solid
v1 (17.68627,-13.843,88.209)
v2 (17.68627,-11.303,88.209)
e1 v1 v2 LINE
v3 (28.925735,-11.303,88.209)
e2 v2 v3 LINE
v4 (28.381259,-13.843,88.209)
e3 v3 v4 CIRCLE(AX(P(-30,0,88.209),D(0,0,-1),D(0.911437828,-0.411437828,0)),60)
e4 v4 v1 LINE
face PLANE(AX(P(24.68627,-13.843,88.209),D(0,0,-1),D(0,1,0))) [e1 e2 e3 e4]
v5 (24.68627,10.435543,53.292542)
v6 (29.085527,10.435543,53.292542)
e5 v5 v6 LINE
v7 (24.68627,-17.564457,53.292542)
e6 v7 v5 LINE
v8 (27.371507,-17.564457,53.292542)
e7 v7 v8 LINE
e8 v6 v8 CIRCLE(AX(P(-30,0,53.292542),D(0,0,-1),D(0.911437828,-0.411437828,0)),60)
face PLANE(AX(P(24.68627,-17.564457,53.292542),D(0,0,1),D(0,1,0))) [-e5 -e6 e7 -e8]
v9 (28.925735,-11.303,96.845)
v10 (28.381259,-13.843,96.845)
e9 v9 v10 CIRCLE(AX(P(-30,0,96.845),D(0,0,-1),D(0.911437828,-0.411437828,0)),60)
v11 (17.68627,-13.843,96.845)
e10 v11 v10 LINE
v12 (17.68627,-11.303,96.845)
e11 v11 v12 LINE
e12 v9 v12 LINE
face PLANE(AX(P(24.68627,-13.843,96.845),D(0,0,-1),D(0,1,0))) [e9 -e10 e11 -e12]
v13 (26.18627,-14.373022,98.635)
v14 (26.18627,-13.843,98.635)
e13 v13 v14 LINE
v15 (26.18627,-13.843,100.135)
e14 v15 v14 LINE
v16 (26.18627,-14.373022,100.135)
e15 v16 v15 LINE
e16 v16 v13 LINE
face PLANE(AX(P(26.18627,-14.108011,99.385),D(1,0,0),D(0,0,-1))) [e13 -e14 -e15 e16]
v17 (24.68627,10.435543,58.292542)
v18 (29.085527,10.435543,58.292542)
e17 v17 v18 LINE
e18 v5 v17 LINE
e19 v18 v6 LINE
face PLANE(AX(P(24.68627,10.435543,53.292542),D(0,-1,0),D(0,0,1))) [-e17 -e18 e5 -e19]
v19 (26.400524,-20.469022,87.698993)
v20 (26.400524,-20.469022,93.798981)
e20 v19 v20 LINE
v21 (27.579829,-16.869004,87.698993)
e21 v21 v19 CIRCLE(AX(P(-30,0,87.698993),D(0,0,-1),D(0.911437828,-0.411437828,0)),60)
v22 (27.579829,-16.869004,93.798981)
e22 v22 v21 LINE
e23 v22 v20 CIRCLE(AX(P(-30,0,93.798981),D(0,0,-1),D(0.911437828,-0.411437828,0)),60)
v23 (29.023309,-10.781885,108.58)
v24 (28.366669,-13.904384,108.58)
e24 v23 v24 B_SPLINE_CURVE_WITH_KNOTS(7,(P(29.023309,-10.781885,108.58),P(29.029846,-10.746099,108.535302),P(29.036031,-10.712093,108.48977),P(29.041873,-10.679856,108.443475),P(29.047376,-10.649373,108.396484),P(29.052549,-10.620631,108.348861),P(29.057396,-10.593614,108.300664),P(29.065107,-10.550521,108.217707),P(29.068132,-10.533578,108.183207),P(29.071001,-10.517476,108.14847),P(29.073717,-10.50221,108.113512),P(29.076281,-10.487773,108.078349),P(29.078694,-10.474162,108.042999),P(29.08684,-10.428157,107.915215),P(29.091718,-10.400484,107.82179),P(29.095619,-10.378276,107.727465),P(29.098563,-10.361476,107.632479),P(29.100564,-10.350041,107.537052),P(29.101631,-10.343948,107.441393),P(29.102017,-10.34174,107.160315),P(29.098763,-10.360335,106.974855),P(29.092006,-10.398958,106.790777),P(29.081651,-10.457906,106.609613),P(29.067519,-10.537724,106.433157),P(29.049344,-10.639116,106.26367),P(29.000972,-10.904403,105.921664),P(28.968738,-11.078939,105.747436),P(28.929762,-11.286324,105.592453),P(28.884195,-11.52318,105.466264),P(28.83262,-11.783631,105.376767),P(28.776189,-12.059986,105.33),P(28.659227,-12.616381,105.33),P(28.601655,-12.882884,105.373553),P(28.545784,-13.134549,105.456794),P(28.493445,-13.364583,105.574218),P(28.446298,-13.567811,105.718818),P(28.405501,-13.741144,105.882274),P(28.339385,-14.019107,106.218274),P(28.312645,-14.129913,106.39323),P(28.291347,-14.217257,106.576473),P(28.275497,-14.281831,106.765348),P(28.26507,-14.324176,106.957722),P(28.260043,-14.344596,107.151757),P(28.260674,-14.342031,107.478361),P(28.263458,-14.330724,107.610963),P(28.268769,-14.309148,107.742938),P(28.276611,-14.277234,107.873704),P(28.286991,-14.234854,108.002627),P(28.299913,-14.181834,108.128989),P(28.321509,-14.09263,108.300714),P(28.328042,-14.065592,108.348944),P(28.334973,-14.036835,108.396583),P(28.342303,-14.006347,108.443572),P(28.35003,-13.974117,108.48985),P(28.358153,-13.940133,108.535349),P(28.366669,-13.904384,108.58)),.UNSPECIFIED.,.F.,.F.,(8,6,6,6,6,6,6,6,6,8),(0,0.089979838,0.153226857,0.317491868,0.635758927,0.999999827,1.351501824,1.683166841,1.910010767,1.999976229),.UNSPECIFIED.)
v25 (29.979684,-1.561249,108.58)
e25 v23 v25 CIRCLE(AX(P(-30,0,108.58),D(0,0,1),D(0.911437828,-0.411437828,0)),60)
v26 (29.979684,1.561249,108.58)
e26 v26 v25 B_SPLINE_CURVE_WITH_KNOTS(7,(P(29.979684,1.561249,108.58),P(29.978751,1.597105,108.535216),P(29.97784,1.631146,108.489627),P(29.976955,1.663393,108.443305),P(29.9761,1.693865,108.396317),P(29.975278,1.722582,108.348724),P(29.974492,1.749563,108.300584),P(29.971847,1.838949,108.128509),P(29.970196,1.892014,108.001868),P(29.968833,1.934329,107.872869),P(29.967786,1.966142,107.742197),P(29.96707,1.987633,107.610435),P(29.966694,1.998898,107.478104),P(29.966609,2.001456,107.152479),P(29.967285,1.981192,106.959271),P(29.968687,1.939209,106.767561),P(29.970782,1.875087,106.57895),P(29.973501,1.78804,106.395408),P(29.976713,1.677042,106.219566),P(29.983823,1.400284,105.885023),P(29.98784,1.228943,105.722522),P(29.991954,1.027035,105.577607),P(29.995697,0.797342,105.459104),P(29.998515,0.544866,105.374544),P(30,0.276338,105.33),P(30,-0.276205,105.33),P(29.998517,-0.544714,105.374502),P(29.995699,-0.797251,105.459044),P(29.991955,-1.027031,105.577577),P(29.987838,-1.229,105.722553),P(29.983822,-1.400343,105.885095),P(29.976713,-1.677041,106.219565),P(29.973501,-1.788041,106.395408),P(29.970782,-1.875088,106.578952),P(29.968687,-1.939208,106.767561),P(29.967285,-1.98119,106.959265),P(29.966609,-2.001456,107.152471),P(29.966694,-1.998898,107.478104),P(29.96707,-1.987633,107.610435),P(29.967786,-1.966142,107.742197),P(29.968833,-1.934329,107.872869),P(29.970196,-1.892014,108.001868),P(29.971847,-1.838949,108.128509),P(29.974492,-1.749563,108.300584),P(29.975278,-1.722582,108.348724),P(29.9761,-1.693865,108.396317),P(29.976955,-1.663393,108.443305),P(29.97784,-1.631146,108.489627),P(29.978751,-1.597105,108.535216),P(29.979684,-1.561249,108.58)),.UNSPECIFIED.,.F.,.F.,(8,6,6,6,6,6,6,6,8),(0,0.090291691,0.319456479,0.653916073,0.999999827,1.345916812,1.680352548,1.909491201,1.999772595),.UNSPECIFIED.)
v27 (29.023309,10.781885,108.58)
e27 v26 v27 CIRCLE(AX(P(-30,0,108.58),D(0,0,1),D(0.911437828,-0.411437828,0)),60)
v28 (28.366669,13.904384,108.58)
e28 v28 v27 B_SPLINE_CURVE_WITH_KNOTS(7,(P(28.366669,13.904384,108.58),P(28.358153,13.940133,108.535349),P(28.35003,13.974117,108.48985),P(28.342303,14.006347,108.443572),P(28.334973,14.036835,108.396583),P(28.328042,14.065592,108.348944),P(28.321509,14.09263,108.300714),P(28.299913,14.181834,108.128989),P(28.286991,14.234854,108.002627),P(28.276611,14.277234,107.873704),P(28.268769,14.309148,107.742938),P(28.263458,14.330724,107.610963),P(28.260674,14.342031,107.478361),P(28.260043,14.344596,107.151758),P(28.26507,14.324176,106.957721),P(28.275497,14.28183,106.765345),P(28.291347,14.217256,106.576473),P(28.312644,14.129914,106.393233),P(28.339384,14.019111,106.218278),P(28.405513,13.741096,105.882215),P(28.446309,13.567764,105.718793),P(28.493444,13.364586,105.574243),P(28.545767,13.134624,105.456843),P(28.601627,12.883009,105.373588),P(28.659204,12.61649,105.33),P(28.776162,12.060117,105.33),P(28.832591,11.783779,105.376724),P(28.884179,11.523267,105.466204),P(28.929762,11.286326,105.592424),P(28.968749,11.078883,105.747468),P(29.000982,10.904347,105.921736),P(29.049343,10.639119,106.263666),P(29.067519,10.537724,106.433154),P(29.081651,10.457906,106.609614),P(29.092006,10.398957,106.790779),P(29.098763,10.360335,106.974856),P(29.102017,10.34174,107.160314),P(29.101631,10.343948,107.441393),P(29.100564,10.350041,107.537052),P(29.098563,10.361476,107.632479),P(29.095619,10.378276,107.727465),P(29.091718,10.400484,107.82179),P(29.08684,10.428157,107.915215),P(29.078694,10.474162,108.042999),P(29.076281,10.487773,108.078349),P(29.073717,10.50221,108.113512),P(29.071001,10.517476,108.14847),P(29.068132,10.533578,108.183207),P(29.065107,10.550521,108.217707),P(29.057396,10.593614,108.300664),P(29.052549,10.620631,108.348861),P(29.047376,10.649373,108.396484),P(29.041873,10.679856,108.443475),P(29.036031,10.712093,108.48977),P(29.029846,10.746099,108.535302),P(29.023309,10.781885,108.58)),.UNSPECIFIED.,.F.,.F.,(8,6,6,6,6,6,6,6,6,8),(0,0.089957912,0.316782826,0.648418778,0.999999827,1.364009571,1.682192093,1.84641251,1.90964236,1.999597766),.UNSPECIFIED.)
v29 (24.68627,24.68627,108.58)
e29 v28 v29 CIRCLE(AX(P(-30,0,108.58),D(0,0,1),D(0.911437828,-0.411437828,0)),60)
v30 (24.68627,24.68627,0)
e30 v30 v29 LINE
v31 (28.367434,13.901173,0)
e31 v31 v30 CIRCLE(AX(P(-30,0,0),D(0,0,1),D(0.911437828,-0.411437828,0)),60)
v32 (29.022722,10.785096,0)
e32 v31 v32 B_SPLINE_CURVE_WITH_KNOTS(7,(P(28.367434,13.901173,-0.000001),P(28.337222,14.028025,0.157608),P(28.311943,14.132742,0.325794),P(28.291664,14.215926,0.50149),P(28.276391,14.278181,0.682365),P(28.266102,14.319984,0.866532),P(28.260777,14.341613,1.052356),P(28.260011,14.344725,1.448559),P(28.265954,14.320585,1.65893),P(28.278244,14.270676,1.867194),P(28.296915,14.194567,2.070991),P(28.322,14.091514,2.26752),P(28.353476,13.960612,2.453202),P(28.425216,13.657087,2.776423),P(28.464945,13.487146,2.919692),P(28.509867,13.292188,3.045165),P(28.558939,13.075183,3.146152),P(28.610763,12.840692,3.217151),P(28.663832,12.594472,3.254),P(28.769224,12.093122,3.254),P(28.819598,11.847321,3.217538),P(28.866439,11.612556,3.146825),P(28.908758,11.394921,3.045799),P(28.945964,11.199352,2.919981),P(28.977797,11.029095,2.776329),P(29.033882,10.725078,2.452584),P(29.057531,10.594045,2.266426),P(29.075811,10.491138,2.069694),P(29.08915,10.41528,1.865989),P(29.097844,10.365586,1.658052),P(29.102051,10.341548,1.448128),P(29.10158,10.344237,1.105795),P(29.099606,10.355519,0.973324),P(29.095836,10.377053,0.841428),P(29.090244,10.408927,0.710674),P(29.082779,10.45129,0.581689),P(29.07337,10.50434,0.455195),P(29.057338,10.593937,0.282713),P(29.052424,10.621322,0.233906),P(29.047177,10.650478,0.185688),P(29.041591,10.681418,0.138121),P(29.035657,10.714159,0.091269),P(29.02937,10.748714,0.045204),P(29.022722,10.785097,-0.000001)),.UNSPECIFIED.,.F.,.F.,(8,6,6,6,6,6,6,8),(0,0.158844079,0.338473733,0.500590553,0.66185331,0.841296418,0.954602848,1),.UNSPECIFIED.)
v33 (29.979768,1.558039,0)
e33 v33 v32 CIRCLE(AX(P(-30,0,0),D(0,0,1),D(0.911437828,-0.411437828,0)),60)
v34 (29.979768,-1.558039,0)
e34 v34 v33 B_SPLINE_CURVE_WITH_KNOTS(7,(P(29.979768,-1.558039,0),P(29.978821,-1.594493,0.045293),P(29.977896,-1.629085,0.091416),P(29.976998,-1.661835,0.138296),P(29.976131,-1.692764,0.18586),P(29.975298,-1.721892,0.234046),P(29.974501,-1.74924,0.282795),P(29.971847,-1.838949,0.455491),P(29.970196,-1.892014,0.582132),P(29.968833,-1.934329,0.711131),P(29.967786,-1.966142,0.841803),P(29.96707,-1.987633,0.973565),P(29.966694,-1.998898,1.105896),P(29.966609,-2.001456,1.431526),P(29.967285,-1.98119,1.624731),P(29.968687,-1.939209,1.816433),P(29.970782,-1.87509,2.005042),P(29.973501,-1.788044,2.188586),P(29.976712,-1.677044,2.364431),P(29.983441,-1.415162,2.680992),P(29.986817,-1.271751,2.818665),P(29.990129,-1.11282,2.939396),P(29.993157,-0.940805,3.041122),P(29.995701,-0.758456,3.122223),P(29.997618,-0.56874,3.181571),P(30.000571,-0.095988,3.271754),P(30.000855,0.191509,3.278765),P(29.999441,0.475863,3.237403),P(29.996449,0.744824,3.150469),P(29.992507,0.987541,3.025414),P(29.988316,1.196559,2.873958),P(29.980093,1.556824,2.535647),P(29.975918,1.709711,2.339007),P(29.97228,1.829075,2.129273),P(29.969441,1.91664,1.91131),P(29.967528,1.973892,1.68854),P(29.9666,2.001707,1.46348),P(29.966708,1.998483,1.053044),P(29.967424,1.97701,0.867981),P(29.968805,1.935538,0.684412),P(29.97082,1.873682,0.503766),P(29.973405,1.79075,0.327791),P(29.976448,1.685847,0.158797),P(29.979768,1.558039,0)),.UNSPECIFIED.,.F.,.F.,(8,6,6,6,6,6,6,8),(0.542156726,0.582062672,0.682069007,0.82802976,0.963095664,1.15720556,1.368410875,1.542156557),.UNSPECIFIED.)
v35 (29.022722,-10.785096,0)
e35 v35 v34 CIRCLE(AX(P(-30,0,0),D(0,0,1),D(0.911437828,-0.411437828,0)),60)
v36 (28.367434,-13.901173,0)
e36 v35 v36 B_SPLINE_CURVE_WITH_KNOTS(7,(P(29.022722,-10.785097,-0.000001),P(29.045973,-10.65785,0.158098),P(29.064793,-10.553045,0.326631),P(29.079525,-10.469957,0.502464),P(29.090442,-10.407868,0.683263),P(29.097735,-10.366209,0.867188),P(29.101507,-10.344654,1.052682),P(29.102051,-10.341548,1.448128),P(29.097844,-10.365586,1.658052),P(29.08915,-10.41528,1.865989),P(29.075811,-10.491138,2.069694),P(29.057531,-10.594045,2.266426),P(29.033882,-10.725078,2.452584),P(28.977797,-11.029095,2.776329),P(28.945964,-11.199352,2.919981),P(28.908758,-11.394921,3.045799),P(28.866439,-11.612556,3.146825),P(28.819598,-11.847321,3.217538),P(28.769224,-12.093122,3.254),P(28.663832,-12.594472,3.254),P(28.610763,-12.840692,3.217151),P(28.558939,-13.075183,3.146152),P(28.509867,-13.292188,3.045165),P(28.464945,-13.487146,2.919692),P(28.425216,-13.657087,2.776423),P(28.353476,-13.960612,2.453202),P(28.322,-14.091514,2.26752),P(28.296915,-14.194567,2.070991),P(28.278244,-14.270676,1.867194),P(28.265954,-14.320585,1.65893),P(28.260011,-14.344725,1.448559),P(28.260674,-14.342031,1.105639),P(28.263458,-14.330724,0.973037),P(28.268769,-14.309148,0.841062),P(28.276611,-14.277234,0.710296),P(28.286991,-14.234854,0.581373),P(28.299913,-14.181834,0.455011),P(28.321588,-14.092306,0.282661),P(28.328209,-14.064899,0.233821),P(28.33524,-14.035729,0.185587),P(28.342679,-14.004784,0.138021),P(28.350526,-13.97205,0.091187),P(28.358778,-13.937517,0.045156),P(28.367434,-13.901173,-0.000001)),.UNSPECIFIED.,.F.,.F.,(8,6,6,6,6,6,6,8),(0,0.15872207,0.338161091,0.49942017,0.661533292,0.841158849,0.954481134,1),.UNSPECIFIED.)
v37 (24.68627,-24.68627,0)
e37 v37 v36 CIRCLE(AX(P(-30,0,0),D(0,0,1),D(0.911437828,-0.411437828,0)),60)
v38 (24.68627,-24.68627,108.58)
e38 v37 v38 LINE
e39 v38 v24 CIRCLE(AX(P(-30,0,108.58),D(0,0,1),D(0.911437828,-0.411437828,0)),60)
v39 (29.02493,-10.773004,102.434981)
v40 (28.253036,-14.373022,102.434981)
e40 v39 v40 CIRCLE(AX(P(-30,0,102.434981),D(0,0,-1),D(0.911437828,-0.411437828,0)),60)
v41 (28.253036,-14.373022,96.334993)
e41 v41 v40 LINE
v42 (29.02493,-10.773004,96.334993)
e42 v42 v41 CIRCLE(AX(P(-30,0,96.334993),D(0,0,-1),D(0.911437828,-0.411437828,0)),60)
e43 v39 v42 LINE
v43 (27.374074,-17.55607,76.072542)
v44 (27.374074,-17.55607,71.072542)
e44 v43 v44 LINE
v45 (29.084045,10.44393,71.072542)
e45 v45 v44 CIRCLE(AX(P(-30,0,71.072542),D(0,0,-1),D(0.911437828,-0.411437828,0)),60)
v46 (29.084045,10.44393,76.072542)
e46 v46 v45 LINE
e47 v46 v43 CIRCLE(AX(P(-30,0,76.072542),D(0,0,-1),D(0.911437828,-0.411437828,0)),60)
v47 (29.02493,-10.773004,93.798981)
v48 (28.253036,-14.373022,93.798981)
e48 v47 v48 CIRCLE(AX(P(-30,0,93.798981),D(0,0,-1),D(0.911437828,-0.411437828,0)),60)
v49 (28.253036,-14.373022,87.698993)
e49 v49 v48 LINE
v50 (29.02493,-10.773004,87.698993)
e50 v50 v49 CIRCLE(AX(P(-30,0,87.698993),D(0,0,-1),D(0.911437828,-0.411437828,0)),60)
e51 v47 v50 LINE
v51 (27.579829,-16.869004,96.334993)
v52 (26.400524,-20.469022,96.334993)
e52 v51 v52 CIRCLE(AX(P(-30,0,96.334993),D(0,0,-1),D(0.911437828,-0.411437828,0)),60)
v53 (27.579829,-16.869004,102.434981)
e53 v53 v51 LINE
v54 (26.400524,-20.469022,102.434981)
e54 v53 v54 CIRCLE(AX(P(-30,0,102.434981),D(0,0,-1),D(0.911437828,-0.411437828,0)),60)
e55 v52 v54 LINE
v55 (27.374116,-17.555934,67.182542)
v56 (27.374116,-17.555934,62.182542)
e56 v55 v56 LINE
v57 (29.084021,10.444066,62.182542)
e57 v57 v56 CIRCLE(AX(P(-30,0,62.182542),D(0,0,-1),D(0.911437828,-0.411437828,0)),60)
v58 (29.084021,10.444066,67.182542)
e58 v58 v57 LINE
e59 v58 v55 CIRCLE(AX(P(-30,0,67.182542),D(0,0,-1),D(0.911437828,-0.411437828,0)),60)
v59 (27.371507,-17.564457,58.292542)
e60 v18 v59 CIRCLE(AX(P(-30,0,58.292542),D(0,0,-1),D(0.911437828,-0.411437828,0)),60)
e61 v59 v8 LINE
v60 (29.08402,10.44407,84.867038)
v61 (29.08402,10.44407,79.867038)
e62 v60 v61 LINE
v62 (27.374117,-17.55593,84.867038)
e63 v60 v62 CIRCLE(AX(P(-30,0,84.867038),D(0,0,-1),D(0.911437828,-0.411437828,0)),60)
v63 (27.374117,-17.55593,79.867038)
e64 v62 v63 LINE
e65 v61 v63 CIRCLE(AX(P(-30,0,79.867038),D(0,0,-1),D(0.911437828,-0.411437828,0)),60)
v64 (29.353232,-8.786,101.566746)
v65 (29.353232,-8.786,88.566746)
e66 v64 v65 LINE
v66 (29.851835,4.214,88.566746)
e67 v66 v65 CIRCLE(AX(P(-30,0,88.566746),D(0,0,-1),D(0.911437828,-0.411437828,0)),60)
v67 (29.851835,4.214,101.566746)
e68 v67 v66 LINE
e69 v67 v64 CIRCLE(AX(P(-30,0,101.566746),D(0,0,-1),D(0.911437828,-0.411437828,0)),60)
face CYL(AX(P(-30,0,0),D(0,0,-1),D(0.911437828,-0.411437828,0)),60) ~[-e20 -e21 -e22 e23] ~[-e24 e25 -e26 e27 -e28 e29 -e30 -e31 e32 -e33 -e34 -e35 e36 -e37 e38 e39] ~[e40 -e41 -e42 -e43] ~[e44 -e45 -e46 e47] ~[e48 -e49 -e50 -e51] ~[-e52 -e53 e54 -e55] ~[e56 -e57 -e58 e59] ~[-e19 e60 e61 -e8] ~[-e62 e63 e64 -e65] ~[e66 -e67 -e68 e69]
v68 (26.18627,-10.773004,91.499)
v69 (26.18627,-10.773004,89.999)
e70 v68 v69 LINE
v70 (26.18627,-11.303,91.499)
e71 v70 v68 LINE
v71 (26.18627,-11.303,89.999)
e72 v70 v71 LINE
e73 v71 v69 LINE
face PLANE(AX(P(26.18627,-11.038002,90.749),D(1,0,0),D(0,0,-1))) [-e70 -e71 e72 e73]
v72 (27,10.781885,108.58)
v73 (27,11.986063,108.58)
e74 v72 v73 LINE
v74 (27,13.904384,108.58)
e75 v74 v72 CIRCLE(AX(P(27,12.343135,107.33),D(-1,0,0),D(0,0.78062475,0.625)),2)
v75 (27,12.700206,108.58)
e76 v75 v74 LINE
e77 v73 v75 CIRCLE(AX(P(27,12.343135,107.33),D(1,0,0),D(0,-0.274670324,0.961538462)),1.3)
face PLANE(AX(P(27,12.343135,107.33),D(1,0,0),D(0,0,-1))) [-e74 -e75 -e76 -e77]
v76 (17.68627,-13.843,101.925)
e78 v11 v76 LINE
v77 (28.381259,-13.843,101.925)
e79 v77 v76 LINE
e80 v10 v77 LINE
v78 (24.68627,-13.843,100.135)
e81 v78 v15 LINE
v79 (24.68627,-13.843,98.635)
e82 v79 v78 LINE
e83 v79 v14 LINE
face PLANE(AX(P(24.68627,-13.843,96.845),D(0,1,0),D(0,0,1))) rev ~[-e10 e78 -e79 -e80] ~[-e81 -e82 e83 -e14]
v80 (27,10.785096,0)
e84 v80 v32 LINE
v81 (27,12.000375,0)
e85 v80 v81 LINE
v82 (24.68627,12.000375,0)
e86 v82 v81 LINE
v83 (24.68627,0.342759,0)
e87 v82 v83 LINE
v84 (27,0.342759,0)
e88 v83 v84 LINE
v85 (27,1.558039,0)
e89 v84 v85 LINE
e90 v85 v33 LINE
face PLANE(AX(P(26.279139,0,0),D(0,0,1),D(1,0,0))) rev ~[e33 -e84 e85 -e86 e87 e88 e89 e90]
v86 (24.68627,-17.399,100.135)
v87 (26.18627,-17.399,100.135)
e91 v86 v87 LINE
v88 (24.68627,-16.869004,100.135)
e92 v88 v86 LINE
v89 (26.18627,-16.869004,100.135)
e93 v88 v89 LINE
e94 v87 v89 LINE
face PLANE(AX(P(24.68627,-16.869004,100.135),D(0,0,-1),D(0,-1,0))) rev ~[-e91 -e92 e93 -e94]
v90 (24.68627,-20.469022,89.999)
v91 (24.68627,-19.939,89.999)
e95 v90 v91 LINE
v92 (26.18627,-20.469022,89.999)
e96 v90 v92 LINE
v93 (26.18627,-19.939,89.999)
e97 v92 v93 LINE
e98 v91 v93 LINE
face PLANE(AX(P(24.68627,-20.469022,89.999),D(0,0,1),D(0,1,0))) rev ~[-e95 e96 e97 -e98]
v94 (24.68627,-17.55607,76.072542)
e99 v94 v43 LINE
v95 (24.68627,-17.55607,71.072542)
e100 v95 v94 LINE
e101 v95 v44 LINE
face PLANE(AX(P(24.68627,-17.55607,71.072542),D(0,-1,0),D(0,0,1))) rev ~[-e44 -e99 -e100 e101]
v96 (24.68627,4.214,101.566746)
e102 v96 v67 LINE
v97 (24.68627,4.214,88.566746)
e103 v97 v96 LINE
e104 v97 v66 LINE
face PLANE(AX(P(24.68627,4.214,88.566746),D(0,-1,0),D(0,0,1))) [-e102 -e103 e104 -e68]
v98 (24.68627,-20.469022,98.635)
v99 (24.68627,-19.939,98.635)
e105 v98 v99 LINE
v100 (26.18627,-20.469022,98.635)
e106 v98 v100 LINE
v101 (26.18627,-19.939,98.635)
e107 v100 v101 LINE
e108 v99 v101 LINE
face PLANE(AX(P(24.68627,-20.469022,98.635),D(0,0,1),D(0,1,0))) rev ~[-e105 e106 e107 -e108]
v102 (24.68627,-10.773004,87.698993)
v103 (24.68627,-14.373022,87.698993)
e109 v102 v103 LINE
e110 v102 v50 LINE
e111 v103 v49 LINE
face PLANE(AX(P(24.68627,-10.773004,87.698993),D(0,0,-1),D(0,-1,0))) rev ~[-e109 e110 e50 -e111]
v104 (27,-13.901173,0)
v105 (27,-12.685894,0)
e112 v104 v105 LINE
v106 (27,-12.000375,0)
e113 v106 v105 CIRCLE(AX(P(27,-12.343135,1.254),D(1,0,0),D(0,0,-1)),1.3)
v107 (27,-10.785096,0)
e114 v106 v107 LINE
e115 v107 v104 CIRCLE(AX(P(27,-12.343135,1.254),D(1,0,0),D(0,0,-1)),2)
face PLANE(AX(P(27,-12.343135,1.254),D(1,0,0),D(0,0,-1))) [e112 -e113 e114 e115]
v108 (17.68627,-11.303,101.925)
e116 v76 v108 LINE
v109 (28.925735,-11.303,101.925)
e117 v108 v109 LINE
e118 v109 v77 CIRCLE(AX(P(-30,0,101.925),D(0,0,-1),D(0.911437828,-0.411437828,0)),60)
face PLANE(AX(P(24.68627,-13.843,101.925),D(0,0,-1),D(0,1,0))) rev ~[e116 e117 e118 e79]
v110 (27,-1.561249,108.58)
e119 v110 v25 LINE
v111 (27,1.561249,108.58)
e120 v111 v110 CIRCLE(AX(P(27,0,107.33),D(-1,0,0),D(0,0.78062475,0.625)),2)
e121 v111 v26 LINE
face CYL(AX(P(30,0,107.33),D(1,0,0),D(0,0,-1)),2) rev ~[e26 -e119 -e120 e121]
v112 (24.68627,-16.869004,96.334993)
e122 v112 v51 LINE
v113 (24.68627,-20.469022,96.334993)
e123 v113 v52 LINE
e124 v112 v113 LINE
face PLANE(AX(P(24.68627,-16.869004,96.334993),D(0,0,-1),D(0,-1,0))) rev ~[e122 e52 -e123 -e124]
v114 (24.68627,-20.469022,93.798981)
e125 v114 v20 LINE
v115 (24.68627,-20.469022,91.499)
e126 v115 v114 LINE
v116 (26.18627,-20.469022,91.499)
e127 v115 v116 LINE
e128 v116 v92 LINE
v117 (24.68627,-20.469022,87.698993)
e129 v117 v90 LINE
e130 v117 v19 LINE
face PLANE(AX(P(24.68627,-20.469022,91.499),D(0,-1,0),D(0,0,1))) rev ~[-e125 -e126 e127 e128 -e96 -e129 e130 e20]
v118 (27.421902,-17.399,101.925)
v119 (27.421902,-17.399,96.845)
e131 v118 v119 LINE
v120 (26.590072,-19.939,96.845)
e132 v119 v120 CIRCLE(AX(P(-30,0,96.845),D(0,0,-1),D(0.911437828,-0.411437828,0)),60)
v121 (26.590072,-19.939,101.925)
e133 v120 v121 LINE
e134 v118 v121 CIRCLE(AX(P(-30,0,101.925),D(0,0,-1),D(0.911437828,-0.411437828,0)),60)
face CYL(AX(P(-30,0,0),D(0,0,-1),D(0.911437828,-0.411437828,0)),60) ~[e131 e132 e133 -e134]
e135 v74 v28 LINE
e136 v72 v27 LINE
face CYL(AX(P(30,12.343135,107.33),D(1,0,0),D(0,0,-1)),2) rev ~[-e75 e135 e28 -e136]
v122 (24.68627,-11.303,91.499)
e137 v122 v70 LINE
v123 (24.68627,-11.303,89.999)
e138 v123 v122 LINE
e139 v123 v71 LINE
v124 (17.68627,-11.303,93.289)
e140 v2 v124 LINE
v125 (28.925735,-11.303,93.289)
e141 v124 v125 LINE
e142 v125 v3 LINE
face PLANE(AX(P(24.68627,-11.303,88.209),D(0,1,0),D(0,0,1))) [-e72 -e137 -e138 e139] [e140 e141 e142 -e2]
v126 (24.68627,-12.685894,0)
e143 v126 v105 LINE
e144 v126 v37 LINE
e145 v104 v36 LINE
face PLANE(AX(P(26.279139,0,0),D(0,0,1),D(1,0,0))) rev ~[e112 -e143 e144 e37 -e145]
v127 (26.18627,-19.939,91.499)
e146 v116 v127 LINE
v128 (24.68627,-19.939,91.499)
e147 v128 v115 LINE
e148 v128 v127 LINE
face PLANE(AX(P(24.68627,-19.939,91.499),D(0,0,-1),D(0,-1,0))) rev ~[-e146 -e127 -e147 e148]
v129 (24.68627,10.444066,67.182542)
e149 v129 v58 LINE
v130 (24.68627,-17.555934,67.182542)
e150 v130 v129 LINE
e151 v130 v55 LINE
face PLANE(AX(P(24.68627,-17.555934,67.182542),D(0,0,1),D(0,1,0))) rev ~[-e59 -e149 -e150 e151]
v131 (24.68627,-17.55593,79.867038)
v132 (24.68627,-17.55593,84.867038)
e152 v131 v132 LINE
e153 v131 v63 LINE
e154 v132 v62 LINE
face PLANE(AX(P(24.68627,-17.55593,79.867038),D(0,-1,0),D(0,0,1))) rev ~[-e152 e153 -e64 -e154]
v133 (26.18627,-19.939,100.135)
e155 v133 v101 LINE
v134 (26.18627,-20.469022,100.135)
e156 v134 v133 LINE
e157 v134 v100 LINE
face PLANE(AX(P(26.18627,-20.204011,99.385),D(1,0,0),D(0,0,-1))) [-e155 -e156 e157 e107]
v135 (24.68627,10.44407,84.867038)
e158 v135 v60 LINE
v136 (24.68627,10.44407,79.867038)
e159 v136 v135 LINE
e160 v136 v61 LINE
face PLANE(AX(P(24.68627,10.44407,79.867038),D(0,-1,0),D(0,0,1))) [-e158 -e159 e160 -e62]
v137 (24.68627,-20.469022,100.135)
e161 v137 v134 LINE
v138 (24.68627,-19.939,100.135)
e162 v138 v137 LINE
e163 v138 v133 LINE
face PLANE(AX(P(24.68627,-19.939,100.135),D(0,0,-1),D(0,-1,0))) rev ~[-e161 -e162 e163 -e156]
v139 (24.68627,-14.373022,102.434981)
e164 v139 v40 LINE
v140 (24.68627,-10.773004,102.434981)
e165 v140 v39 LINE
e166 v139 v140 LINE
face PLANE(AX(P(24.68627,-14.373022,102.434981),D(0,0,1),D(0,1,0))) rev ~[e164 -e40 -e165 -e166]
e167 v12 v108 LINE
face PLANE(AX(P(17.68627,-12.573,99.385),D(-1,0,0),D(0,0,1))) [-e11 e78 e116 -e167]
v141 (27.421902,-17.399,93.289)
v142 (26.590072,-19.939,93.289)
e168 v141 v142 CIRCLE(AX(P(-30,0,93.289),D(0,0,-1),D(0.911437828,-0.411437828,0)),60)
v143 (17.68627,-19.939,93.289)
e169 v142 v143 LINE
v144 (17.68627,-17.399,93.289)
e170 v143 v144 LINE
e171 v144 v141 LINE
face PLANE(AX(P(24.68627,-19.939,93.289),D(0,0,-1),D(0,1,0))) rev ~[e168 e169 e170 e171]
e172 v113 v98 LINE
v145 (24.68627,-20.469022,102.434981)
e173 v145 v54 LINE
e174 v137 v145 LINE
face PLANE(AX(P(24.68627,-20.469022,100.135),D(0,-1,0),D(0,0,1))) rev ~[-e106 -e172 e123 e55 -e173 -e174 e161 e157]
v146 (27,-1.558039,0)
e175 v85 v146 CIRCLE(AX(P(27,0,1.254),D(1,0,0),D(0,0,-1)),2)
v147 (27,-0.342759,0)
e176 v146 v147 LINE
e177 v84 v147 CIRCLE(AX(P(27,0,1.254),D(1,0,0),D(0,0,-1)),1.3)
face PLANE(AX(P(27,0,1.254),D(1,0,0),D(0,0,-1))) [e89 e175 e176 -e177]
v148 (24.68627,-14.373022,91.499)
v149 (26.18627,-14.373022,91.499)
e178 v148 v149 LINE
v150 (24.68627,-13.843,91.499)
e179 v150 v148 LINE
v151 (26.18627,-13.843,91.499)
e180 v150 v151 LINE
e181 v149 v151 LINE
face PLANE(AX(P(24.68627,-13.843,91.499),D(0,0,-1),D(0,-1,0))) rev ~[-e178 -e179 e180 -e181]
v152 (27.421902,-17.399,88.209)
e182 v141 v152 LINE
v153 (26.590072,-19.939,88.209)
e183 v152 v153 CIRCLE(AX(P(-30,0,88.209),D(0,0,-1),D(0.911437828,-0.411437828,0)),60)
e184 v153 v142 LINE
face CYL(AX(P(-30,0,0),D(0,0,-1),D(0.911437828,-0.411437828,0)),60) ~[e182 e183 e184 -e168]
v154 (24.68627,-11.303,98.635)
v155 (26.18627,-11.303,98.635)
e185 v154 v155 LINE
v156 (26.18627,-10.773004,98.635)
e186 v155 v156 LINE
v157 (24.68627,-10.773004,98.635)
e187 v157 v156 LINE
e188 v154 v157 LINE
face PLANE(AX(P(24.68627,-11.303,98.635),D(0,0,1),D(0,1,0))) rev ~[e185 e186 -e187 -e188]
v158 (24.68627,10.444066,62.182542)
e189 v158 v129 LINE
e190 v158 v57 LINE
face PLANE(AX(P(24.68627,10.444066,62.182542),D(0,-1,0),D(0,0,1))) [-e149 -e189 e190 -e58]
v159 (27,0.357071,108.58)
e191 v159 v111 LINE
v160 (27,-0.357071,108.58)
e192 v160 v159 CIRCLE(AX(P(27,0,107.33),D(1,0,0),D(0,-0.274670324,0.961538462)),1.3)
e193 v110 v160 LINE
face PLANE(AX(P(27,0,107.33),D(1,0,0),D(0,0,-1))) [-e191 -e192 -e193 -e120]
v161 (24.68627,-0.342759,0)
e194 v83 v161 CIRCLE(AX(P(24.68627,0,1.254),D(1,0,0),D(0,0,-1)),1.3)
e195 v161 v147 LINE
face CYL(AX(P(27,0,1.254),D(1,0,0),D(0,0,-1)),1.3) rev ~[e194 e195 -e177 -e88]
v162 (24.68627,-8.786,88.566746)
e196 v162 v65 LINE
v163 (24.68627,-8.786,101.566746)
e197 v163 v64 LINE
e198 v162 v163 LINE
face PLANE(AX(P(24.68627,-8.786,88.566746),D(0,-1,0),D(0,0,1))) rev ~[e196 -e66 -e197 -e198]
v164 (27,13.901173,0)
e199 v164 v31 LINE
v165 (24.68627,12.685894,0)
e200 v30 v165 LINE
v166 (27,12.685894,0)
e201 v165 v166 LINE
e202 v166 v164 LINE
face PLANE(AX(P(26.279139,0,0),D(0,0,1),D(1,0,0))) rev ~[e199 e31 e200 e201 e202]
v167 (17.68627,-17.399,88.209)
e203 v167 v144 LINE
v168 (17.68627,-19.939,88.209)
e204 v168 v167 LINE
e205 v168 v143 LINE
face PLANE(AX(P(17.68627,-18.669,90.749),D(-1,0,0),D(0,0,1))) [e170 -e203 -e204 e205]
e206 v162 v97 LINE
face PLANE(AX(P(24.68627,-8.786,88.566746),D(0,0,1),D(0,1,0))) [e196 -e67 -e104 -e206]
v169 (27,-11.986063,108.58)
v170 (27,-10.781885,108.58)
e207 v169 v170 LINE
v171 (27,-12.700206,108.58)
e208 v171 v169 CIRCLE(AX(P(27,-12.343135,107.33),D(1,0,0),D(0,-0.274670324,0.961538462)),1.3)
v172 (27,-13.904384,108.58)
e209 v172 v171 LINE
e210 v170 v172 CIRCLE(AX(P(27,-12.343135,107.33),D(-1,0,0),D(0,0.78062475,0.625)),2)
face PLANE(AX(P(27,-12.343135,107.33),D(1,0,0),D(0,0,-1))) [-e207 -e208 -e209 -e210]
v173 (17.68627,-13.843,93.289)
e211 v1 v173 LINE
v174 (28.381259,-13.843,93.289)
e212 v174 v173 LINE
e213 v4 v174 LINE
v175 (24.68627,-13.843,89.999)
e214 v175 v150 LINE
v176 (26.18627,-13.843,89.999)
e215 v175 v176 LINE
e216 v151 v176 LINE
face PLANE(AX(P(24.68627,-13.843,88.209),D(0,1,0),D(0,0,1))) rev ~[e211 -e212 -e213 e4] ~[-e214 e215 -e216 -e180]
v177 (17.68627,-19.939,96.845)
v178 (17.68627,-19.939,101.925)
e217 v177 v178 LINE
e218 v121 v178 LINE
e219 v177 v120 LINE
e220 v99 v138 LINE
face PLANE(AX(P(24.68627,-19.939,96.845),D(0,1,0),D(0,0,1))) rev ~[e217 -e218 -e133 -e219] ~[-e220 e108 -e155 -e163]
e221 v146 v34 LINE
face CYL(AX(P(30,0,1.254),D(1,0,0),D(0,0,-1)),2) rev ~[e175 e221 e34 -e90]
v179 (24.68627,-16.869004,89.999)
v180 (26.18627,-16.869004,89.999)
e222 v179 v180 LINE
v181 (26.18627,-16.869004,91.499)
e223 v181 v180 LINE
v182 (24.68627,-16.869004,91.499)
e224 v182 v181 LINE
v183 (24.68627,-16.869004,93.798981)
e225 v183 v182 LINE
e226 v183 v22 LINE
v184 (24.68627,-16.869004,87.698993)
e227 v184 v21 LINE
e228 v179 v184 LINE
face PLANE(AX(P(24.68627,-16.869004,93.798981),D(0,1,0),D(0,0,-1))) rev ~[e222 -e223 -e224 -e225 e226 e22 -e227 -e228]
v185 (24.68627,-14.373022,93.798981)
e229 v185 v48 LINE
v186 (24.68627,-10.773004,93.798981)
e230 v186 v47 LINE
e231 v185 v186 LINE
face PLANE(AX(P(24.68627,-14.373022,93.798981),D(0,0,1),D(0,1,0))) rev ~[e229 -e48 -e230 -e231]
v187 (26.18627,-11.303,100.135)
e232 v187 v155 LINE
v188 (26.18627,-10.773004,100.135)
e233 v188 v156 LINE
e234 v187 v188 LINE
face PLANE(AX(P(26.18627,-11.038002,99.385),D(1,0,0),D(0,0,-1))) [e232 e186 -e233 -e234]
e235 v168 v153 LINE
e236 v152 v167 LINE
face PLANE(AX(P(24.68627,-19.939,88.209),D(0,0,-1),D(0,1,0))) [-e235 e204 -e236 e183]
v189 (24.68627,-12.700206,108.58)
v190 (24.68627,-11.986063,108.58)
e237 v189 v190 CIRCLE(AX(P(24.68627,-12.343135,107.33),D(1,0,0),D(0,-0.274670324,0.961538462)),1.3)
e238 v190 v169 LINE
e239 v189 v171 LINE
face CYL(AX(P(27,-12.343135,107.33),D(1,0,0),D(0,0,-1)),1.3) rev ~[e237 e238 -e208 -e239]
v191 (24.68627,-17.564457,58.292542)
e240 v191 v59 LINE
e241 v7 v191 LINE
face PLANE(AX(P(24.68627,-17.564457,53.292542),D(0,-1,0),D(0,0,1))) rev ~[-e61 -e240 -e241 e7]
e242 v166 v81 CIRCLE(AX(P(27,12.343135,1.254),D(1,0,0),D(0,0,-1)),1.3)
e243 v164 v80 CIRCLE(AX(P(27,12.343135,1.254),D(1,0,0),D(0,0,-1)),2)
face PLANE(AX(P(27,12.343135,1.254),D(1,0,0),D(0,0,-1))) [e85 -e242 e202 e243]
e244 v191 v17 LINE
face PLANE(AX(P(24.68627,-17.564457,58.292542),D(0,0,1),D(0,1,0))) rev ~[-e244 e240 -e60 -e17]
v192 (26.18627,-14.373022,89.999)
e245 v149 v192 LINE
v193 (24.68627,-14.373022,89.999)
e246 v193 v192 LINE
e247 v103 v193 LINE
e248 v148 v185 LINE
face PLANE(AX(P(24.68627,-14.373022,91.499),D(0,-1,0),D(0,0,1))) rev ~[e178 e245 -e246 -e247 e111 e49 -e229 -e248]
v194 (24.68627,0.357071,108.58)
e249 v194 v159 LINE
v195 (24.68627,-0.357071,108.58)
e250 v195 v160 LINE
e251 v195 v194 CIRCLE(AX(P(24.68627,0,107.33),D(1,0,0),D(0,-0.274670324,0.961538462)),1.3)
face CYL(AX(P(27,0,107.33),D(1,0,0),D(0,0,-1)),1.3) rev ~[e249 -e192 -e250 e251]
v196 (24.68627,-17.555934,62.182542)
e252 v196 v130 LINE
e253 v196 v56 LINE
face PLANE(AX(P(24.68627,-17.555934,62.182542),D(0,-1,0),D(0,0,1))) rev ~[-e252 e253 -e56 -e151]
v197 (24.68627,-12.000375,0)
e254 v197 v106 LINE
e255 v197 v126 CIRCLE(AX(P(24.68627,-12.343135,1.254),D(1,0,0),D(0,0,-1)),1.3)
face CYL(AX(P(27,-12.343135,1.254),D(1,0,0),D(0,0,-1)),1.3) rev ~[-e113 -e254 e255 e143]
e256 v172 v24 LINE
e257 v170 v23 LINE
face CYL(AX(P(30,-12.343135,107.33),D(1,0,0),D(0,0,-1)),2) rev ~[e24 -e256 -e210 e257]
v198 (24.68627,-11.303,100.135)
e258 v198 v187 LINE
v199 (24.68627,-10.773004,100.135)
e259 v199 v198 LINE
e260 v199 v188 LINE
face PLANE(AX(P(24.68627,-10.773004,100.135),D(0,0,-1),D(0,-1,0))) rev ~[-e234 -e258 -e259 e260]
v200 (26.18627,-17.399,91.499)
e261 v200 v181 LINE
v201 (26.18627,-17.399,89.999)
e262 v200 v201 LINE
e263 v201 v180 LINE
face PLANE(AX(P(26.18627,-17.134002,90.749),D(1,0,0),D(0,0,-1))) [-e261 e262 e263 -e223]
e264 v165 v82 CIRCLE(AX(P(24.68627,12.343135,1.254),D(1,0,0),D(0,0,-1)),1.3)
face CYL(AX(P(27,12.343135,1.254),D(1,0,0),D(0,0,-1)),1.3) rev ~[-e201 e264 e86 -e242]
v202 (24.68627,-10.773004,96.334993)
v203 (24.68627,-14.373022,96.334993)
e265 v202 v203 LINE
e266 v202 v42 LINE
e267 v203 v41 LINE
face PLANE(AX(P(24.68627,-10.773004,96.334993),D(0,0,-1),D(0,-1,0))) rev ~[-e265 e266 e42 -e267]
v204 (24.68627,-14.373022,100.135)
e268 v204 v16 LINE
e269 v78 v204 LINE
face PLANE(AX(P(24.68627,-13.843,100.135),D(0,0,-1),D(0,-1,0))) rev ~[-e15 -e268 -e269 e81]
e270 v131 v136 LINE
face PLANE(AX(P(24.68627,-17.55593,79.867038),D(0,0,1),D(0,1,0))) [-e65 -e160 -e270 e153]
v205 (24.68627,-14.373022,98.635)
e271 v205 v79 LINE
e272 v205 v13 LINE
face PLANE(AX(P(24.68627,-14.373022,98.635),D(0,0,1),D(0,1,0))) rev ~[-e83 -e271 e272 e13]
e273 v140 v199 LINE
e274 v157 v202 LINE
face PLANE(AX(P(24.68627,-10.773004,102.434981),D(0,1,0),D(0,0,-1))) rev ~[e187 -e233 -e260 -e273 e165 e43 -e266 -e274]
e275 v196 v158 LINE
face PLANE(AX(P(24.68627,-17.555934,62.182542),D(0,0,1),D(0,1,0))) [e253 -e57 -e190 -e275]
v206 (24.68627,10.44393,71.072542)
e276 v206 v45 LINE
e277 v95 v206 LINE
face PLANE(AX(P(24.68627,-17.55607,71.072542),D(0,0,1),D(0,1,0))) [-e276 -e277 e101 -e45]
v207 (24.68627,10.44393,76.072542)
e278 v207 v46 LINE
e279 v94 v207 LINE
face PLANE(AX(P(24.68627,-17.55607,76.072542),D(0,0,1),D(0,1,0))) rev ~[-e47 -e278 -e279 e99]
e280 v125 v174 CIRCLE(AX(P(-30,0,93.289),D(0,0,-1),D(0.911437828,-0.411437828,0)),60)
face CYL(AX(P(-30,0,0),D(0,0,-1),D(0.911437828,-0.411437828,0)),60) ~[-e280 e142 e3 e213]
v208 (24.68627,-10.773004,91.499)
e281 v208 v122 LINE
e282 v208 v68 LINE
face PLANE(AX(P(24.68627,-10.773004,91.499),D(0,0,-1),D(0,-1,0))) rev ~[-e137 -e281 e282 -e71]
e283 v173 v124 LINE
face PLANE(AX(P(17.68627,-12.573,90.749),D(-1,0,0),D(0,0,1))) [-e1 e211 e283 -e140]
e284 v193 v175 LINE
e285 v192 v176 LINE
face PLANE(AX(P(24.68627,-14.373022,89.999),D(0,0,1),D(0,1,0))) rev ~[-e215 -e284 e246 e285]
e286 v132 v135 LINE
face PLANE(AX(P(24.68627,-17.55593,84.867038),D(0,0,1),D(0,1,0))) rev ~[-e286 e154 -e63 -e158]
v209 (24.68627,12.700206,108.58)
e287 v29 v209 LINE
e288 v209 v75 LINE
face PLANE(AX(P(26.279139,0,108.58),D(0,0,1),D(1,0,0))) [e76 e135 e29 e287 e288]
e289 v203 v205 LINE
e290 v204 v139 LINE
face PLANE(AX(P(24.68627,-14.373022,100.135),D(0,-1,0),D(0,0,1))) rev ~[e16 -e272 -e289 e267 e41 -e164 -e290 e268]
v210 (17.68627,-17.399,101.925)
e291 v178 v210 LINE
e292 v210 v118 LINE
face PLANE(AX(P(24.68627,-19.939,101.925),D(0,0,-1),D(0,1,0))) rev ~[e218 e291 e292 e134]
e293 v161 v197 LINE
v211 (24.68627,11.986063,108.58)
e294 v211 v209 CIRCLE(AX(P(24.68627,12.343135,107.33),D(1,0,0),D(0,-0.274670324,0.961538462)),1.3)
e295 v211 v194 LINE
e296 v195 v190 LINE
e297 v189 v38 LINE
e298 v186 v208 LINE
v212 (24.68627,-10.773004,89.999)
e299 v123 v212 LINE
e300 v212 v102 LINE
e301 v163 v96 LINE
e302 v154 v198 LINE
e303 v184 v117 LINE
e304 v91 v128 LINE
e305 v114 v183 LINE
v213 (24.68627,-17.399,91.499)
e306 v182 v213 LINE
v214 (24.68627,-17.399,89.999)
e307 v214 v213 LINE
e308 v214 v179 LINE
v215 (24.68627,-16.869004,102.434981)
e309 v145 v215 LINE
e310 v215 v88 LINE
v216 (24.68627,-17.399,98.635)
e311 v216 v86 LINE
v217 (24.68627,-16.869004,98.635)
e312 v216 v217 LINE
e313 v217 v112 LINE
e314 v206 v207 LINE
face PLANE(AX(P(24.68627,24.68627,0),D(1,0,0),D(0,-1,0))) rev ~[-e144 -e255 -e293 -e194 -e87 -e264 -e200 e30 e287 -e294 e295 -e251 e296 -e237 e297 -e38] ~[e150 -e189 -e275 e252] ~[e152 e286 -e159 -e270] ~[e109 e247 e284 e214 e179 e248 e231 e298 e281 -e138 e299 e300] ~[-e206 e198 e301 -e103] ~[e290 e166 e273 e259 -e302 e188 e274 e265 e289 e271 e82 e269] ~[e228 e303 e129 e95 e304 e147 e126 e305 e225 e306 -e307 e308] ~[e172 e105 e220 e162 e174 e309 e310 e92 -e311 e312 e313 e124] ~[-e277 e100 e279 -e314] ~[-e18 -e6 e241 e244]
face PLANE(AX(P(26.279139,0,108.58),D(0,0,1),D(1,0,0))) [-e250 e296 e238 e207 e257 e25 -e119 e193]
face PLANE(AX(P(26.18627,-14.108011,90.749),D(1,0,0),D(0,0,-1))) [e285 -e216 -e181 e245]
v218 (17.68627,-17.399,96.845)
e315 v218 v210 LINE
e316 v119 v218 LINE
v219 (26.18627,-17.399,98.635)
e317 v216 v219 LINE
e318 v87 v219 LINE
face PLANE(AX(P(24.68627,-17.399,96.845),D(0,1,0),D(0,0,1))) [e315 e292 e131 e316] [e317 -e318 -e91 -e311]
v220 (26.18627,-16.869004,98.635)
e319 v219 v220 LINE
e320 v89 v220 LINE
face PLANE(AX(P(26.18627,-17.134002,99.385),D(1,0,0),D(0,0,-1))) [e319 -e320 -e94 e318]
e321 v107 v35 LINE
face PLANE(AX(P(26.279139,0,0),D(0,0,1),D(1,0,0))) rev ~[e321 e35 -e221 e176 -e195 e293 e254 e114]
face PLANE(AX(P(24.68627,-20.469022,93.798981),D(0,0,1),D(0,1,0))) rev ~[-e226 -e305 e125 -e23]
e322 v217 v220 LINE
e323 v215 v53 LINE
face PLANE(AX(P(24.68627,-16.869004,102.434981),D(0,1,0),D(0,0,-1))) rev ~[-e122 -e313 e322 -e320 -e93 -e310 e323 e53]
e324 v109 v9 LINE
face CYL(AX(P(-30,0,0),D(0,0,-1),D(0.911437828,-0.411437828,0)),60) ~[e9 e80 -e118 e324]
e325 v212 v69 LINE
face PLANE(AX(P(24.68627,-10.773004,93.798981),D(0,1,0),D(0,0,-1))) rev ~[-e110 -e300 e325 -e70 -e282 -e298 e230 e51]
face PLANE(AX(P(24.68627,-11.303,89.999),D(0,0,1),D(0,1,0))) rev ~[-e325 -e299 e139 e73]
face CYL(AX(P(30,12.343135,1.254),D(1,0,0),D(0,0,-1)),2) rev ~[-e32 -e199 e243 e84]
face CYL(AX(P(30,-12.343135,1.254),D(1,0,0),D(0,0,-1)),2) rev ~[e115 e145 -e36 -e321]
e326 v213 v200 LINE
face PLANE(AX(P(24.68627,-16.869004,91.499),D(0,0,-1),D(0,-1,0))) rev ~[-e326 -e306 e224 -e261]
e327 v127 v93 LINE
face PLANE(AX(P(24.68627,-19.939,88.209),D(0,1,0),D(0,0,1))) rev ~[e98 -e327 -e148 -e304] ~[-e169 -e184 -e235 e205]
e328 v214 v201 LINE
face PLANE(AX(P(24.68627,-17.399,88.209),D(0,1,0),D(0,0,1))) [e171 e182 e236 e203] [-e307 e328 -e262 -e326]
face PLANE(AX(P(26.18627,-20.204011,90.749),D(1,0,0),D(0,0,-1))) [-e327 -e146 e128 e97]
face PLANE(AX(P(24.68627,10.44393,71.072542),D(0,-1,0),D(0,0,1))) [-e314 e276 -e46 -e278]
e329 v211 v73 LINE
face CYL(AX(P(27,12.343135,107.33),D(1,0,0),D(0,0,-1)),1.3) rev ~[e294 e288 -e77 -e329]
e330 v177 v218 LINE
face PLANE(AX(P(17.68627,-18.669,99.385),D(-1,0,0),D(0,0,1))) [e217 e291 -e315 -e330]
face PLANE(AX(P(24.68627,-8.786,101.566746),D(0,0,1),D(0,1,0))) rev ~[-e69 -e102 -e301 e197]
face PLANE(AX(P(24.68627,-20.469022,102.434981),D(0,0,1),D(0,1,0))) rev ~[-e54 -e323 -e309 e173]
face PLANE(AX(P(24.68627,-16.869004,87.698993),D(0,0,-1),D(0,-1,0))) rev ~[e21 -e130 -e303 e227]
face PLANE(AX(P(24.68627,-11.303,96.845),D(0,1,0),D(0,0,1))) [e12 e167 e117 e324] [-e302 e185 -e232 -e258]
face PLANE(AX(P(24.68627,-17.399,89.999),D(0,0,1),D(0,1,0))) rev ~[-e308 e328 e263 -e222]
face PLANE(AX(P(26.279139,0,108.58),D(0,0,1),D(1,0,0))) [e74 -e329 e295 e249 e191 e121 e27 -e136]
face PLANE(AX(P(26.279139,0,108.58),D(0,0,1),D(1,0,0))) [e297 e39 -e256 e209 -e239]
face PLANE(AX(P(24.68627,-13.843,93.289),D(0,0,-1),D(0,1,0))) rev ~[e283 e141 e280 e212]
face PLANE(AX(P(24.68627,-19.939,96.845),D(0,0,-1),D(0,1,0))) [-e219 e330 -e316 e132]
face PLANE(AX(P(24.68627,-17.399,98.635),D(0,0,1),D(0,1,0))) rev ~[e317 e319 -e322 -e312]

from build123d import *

# Parameters (mm, degrees)
EXTRUDE_1_DEPTH     = 108.58
SKETCH_11_R         = 2
CUT_EXTRUDE_4_DEPTH = 3
SKETCH_12_R         = 1.3
CUT_EXTRUDE_5_DEPTH = 14
SKETCH_15_W         = 13
SKETCH_15_H         = 13
SKETCH_15_W_2       = 5
SKETCH_15_H_2       = 28
CUT_EXTRUDE_6_DEPTH = 10
CUT_EXTRUDE_7_DEPTH = 10
SKETCH_17_W         = 1.5
SKETCH_17_H         = 0.5299964
SKETCH_17_H_2       = 0.5300218
CUT_EXTRUDE_8_DEPTH = 3.813730334
SKETCH_18_W         = 5.08
SKETCH_18_H         = 2.54
EXTRUDE_2_DEPTH     = 7


with BuildPart() as part:
    # 草图3 → 凸台-拉伸1 (new body)
    with BuildSketch(Plane.XY):
        with BuildLine():
            Line((24.686269666, 24.686269666), (24.686269666, -24.686269666))
            ThreePointArc((24.686269666, -24.686269666), (30, 0), (24.686269666, 24.686269666))
        make_face()
    extrude(amount=EXTRUDE_1_DEPTH)

    # 草图11 → 切除-拉伸4 (cut)
    with BuildSketch(Plane(origin=(30, 0, 0), x_dir=(0, 0, -1), z_dir=(1, 0, 0))):
        with Locations((-1.254, -12.343134833)):
            Circle(SKETCH_11_R)
        with Locations((-1.254, 0)):
            Circle(SKETCH_11_R)
        with Locations((-1.254, 12.343134833)):
            Circle(SKETCH_11_R)
        with Locations((-107.33, -12.343134833)):
            Circle(SKETCH_11_R)
        with Locations((-107.33, 0)):
            Circle(SKETCH_11_R)
        with Locations((-107.33, 12.343134833)):
            Circle(SKETCH_11_R)
    extrude(amount=-CUT_EXTRUDE_4_DEPTH, mode=Mode.SUBTRACT)

    # 草图12 → 切除-拉伸5 (cut)
    with BuildSketch(Plane(origin=(27, 0, 0), x_dir=(0, 0, -1), z_dir=(1, 0, 0))):
        with Locations((-1.254, -12.343134833)):
            Circle(SKETCH_12_R)
        with Locations((-1.254, 0)):
            Circle(SKETCH_12_R)
        with Locations((-1.254, 12.343134833)):
            Circle(SKETCH_12_R)
        with Locations((-107.33, 12.343134833)):
            Circle(SKETCH_12_R)
        with Locations((-107.33, 0)):
            Circle(SKETCH_12_R)
        with Locations((-107.33, -12.343134833)):
            Circle(SKETCH_12_R)
    extrude(amount=-CUT_EXTRUDE_5_DEPTH, mode=Mode.SUBTRACT)

    # 草图15 → 切除-拉伸6 (cut)
    with BuildSketch(Plane.ZY.offset(-24.686269666)):
        with Locations((95.066746, -2.286)):
            Rectangle(SKETCH_15_W, SKETCH_15_H)
        with Locations((82.3670381, -3.555929665)):
            Rectangle(SKETCH_15_W_2, SKETCH_15_H_2)
        with Locations((73.5725421, -3.556070335)):
            Rectangle(SKETCH_15_W_2, SKETCH_15_H_2)
        with Locations((64.6825421, -3.555934352)):
            Rectangle(SKETCH_15_W_2, SKETCH_15_H_2)
        with Locations((55.7925421, -3.564457152)):
            Rectangle(SKETCH_15_W_2, SKETCH_15_H_2)
    extrude(amount=-CUT_EXTRUDE_6_DEPTH, mode=Mode.SUBTRACT)

    # 草图16 → 切除-拉伸7 (cut)
    with BuildSketch(Plane.ZY.offset(-24.686269666)):
        Polygon((100.135, -10.7730036), (100.135, -11.303), (101.925, -11.303), (101.925, -13.843), (100.135, -13.843), (100.135, -14.3730218), (102.4349812, -14.3730218), (102.4349812, -10.7730036), align=None)
        Polygon((96.3349934, -10.7730036), (96.3349934, -14.3730218), (98.635, -14.3730218), (98.635, -13.843), (96.845, -13.843), (96.845, -11.303), (98.635, -11.303), (98.635, -10.7730036), align=None)
        Polygon((102.4349812, -16.8690036), (100.135, -16.8690036), (100.135, -17.399), (101.925, -17.399), (101.925, -19.939), (100.135, -19.939), (100.135, -20.4690218), (102.4349812, -20.4690218), align=None)
        Polygon((96.3349934, -16.8690036), (96.3349934, -20.4690218), (98.635, -20.4690218), (98.635, -19.939), (96.845, -19.939), (96.845, -17.399), (98.635, -17.399), (98.635, -16.8690036), align=None)
        Polygon((93.7989812, -10.7730036), (91.499, -10.7730036), (91.499, -11.303), (93.289, -11.303), (93.289, -13.843), (91.499, -13.843), (91.499, -14.3730218), (93.7989812, -14.3730218), align=None)
        Polygon((87.6989934, -10.7730036), (87.6989934, -14.3730218), (89.999, -14.3730218), (89.999, -13.843), (88.209, -13.843), (88.209, -11.303), (89.999, -11.303), (89.999, -10.7730036), align=None)
        Polygon((93.7989812, -16.8690036), (91.499, -16.8690036), (91.499, -17.399), (93.289, -17.399), (93.289, -19.939), (91.499, -19.939), (91.499, -20.4690218), (93.7989812, -20.4690218), align=None)
        Polygon((87.6989934, -16.8690036), (87.6989934, -20.4690218), (89.999, -20.4690218), (89.999, -19.939), (88.209, -19.939), (88.209, -17.399), (89.999, -17.399), (89.999, -16.8690036), align=None)
    extrude(amount=-CUT_EXTRUDE_7_DEPTH, mode=Mode.SUBTRACT)

    # 草图17 → 切除-拉伸8 (cut)
    with BuildSketch(Plane(origin=(30, 0, 0), x_dir=(0, 0, -1), z_dir=(1, 0, 0))):
        with Locations((-99.385, -11.0380018)):
            Rectangle(SKETCH_17_W, SKETCH_17_H)
        with Locations((-99.385, -14.1080109)):
            Rectangle(SKETCH_17_W, SKETCH_17_H_2)
        with Locations((-99.385, -17.1340018)):
            Rectangle(SKETCH_17_W, SKETCH_17_H)
        with Locations((-99.385, -20.2040109)):
            Rectangle(SKETCH_17_W, SKETCH_17_H_2)
        with Locations((-90.749, -17.1340018)):
            Rectangle(SKETCH_17_W, SKETCH_17_H)
        with Locations((-90.749, -20.2040109)):
            Rectangle(SKETCH_17_W, SKETCH_17_H_2)
        with Locations((-90.749, -11.0380018)):
            Rectangle(SKETCH_17_W, SKETCH_17_H)
        with Locations((-90.749, -14.1080109)):
            Rectangle(SKETCH_17_W, SKETCH_17_H_2)
    extrude(amount=-CUT_EXTRUDE_8_DEPTH, mode=Mode.SUBTRACT)

    # 草图18 → 凸台-拉伸2 (add)
    with BuildSketch(Plane.ZY.offset(-24.686269666)):
        with Locations((90.749, -12.573)):
            Rectangle(SKETCH_18_W, SKETCH_18_H)
        with Locations((90.749, -18.669)):
            Rectangle(SKETCH_18_W, SKETCH_18_H)
        with Locations((99.385, -12.573)):
            Rectangle(SKETCH_18_W, SKETCH_18_H)
        with Locations((99.385, -18.669)):
            Rectangle(SKETCH_18_W, SKETCH_18_H)
    extrude(amount=EXTRUDE_2_DEPTH)


solid = part.part
